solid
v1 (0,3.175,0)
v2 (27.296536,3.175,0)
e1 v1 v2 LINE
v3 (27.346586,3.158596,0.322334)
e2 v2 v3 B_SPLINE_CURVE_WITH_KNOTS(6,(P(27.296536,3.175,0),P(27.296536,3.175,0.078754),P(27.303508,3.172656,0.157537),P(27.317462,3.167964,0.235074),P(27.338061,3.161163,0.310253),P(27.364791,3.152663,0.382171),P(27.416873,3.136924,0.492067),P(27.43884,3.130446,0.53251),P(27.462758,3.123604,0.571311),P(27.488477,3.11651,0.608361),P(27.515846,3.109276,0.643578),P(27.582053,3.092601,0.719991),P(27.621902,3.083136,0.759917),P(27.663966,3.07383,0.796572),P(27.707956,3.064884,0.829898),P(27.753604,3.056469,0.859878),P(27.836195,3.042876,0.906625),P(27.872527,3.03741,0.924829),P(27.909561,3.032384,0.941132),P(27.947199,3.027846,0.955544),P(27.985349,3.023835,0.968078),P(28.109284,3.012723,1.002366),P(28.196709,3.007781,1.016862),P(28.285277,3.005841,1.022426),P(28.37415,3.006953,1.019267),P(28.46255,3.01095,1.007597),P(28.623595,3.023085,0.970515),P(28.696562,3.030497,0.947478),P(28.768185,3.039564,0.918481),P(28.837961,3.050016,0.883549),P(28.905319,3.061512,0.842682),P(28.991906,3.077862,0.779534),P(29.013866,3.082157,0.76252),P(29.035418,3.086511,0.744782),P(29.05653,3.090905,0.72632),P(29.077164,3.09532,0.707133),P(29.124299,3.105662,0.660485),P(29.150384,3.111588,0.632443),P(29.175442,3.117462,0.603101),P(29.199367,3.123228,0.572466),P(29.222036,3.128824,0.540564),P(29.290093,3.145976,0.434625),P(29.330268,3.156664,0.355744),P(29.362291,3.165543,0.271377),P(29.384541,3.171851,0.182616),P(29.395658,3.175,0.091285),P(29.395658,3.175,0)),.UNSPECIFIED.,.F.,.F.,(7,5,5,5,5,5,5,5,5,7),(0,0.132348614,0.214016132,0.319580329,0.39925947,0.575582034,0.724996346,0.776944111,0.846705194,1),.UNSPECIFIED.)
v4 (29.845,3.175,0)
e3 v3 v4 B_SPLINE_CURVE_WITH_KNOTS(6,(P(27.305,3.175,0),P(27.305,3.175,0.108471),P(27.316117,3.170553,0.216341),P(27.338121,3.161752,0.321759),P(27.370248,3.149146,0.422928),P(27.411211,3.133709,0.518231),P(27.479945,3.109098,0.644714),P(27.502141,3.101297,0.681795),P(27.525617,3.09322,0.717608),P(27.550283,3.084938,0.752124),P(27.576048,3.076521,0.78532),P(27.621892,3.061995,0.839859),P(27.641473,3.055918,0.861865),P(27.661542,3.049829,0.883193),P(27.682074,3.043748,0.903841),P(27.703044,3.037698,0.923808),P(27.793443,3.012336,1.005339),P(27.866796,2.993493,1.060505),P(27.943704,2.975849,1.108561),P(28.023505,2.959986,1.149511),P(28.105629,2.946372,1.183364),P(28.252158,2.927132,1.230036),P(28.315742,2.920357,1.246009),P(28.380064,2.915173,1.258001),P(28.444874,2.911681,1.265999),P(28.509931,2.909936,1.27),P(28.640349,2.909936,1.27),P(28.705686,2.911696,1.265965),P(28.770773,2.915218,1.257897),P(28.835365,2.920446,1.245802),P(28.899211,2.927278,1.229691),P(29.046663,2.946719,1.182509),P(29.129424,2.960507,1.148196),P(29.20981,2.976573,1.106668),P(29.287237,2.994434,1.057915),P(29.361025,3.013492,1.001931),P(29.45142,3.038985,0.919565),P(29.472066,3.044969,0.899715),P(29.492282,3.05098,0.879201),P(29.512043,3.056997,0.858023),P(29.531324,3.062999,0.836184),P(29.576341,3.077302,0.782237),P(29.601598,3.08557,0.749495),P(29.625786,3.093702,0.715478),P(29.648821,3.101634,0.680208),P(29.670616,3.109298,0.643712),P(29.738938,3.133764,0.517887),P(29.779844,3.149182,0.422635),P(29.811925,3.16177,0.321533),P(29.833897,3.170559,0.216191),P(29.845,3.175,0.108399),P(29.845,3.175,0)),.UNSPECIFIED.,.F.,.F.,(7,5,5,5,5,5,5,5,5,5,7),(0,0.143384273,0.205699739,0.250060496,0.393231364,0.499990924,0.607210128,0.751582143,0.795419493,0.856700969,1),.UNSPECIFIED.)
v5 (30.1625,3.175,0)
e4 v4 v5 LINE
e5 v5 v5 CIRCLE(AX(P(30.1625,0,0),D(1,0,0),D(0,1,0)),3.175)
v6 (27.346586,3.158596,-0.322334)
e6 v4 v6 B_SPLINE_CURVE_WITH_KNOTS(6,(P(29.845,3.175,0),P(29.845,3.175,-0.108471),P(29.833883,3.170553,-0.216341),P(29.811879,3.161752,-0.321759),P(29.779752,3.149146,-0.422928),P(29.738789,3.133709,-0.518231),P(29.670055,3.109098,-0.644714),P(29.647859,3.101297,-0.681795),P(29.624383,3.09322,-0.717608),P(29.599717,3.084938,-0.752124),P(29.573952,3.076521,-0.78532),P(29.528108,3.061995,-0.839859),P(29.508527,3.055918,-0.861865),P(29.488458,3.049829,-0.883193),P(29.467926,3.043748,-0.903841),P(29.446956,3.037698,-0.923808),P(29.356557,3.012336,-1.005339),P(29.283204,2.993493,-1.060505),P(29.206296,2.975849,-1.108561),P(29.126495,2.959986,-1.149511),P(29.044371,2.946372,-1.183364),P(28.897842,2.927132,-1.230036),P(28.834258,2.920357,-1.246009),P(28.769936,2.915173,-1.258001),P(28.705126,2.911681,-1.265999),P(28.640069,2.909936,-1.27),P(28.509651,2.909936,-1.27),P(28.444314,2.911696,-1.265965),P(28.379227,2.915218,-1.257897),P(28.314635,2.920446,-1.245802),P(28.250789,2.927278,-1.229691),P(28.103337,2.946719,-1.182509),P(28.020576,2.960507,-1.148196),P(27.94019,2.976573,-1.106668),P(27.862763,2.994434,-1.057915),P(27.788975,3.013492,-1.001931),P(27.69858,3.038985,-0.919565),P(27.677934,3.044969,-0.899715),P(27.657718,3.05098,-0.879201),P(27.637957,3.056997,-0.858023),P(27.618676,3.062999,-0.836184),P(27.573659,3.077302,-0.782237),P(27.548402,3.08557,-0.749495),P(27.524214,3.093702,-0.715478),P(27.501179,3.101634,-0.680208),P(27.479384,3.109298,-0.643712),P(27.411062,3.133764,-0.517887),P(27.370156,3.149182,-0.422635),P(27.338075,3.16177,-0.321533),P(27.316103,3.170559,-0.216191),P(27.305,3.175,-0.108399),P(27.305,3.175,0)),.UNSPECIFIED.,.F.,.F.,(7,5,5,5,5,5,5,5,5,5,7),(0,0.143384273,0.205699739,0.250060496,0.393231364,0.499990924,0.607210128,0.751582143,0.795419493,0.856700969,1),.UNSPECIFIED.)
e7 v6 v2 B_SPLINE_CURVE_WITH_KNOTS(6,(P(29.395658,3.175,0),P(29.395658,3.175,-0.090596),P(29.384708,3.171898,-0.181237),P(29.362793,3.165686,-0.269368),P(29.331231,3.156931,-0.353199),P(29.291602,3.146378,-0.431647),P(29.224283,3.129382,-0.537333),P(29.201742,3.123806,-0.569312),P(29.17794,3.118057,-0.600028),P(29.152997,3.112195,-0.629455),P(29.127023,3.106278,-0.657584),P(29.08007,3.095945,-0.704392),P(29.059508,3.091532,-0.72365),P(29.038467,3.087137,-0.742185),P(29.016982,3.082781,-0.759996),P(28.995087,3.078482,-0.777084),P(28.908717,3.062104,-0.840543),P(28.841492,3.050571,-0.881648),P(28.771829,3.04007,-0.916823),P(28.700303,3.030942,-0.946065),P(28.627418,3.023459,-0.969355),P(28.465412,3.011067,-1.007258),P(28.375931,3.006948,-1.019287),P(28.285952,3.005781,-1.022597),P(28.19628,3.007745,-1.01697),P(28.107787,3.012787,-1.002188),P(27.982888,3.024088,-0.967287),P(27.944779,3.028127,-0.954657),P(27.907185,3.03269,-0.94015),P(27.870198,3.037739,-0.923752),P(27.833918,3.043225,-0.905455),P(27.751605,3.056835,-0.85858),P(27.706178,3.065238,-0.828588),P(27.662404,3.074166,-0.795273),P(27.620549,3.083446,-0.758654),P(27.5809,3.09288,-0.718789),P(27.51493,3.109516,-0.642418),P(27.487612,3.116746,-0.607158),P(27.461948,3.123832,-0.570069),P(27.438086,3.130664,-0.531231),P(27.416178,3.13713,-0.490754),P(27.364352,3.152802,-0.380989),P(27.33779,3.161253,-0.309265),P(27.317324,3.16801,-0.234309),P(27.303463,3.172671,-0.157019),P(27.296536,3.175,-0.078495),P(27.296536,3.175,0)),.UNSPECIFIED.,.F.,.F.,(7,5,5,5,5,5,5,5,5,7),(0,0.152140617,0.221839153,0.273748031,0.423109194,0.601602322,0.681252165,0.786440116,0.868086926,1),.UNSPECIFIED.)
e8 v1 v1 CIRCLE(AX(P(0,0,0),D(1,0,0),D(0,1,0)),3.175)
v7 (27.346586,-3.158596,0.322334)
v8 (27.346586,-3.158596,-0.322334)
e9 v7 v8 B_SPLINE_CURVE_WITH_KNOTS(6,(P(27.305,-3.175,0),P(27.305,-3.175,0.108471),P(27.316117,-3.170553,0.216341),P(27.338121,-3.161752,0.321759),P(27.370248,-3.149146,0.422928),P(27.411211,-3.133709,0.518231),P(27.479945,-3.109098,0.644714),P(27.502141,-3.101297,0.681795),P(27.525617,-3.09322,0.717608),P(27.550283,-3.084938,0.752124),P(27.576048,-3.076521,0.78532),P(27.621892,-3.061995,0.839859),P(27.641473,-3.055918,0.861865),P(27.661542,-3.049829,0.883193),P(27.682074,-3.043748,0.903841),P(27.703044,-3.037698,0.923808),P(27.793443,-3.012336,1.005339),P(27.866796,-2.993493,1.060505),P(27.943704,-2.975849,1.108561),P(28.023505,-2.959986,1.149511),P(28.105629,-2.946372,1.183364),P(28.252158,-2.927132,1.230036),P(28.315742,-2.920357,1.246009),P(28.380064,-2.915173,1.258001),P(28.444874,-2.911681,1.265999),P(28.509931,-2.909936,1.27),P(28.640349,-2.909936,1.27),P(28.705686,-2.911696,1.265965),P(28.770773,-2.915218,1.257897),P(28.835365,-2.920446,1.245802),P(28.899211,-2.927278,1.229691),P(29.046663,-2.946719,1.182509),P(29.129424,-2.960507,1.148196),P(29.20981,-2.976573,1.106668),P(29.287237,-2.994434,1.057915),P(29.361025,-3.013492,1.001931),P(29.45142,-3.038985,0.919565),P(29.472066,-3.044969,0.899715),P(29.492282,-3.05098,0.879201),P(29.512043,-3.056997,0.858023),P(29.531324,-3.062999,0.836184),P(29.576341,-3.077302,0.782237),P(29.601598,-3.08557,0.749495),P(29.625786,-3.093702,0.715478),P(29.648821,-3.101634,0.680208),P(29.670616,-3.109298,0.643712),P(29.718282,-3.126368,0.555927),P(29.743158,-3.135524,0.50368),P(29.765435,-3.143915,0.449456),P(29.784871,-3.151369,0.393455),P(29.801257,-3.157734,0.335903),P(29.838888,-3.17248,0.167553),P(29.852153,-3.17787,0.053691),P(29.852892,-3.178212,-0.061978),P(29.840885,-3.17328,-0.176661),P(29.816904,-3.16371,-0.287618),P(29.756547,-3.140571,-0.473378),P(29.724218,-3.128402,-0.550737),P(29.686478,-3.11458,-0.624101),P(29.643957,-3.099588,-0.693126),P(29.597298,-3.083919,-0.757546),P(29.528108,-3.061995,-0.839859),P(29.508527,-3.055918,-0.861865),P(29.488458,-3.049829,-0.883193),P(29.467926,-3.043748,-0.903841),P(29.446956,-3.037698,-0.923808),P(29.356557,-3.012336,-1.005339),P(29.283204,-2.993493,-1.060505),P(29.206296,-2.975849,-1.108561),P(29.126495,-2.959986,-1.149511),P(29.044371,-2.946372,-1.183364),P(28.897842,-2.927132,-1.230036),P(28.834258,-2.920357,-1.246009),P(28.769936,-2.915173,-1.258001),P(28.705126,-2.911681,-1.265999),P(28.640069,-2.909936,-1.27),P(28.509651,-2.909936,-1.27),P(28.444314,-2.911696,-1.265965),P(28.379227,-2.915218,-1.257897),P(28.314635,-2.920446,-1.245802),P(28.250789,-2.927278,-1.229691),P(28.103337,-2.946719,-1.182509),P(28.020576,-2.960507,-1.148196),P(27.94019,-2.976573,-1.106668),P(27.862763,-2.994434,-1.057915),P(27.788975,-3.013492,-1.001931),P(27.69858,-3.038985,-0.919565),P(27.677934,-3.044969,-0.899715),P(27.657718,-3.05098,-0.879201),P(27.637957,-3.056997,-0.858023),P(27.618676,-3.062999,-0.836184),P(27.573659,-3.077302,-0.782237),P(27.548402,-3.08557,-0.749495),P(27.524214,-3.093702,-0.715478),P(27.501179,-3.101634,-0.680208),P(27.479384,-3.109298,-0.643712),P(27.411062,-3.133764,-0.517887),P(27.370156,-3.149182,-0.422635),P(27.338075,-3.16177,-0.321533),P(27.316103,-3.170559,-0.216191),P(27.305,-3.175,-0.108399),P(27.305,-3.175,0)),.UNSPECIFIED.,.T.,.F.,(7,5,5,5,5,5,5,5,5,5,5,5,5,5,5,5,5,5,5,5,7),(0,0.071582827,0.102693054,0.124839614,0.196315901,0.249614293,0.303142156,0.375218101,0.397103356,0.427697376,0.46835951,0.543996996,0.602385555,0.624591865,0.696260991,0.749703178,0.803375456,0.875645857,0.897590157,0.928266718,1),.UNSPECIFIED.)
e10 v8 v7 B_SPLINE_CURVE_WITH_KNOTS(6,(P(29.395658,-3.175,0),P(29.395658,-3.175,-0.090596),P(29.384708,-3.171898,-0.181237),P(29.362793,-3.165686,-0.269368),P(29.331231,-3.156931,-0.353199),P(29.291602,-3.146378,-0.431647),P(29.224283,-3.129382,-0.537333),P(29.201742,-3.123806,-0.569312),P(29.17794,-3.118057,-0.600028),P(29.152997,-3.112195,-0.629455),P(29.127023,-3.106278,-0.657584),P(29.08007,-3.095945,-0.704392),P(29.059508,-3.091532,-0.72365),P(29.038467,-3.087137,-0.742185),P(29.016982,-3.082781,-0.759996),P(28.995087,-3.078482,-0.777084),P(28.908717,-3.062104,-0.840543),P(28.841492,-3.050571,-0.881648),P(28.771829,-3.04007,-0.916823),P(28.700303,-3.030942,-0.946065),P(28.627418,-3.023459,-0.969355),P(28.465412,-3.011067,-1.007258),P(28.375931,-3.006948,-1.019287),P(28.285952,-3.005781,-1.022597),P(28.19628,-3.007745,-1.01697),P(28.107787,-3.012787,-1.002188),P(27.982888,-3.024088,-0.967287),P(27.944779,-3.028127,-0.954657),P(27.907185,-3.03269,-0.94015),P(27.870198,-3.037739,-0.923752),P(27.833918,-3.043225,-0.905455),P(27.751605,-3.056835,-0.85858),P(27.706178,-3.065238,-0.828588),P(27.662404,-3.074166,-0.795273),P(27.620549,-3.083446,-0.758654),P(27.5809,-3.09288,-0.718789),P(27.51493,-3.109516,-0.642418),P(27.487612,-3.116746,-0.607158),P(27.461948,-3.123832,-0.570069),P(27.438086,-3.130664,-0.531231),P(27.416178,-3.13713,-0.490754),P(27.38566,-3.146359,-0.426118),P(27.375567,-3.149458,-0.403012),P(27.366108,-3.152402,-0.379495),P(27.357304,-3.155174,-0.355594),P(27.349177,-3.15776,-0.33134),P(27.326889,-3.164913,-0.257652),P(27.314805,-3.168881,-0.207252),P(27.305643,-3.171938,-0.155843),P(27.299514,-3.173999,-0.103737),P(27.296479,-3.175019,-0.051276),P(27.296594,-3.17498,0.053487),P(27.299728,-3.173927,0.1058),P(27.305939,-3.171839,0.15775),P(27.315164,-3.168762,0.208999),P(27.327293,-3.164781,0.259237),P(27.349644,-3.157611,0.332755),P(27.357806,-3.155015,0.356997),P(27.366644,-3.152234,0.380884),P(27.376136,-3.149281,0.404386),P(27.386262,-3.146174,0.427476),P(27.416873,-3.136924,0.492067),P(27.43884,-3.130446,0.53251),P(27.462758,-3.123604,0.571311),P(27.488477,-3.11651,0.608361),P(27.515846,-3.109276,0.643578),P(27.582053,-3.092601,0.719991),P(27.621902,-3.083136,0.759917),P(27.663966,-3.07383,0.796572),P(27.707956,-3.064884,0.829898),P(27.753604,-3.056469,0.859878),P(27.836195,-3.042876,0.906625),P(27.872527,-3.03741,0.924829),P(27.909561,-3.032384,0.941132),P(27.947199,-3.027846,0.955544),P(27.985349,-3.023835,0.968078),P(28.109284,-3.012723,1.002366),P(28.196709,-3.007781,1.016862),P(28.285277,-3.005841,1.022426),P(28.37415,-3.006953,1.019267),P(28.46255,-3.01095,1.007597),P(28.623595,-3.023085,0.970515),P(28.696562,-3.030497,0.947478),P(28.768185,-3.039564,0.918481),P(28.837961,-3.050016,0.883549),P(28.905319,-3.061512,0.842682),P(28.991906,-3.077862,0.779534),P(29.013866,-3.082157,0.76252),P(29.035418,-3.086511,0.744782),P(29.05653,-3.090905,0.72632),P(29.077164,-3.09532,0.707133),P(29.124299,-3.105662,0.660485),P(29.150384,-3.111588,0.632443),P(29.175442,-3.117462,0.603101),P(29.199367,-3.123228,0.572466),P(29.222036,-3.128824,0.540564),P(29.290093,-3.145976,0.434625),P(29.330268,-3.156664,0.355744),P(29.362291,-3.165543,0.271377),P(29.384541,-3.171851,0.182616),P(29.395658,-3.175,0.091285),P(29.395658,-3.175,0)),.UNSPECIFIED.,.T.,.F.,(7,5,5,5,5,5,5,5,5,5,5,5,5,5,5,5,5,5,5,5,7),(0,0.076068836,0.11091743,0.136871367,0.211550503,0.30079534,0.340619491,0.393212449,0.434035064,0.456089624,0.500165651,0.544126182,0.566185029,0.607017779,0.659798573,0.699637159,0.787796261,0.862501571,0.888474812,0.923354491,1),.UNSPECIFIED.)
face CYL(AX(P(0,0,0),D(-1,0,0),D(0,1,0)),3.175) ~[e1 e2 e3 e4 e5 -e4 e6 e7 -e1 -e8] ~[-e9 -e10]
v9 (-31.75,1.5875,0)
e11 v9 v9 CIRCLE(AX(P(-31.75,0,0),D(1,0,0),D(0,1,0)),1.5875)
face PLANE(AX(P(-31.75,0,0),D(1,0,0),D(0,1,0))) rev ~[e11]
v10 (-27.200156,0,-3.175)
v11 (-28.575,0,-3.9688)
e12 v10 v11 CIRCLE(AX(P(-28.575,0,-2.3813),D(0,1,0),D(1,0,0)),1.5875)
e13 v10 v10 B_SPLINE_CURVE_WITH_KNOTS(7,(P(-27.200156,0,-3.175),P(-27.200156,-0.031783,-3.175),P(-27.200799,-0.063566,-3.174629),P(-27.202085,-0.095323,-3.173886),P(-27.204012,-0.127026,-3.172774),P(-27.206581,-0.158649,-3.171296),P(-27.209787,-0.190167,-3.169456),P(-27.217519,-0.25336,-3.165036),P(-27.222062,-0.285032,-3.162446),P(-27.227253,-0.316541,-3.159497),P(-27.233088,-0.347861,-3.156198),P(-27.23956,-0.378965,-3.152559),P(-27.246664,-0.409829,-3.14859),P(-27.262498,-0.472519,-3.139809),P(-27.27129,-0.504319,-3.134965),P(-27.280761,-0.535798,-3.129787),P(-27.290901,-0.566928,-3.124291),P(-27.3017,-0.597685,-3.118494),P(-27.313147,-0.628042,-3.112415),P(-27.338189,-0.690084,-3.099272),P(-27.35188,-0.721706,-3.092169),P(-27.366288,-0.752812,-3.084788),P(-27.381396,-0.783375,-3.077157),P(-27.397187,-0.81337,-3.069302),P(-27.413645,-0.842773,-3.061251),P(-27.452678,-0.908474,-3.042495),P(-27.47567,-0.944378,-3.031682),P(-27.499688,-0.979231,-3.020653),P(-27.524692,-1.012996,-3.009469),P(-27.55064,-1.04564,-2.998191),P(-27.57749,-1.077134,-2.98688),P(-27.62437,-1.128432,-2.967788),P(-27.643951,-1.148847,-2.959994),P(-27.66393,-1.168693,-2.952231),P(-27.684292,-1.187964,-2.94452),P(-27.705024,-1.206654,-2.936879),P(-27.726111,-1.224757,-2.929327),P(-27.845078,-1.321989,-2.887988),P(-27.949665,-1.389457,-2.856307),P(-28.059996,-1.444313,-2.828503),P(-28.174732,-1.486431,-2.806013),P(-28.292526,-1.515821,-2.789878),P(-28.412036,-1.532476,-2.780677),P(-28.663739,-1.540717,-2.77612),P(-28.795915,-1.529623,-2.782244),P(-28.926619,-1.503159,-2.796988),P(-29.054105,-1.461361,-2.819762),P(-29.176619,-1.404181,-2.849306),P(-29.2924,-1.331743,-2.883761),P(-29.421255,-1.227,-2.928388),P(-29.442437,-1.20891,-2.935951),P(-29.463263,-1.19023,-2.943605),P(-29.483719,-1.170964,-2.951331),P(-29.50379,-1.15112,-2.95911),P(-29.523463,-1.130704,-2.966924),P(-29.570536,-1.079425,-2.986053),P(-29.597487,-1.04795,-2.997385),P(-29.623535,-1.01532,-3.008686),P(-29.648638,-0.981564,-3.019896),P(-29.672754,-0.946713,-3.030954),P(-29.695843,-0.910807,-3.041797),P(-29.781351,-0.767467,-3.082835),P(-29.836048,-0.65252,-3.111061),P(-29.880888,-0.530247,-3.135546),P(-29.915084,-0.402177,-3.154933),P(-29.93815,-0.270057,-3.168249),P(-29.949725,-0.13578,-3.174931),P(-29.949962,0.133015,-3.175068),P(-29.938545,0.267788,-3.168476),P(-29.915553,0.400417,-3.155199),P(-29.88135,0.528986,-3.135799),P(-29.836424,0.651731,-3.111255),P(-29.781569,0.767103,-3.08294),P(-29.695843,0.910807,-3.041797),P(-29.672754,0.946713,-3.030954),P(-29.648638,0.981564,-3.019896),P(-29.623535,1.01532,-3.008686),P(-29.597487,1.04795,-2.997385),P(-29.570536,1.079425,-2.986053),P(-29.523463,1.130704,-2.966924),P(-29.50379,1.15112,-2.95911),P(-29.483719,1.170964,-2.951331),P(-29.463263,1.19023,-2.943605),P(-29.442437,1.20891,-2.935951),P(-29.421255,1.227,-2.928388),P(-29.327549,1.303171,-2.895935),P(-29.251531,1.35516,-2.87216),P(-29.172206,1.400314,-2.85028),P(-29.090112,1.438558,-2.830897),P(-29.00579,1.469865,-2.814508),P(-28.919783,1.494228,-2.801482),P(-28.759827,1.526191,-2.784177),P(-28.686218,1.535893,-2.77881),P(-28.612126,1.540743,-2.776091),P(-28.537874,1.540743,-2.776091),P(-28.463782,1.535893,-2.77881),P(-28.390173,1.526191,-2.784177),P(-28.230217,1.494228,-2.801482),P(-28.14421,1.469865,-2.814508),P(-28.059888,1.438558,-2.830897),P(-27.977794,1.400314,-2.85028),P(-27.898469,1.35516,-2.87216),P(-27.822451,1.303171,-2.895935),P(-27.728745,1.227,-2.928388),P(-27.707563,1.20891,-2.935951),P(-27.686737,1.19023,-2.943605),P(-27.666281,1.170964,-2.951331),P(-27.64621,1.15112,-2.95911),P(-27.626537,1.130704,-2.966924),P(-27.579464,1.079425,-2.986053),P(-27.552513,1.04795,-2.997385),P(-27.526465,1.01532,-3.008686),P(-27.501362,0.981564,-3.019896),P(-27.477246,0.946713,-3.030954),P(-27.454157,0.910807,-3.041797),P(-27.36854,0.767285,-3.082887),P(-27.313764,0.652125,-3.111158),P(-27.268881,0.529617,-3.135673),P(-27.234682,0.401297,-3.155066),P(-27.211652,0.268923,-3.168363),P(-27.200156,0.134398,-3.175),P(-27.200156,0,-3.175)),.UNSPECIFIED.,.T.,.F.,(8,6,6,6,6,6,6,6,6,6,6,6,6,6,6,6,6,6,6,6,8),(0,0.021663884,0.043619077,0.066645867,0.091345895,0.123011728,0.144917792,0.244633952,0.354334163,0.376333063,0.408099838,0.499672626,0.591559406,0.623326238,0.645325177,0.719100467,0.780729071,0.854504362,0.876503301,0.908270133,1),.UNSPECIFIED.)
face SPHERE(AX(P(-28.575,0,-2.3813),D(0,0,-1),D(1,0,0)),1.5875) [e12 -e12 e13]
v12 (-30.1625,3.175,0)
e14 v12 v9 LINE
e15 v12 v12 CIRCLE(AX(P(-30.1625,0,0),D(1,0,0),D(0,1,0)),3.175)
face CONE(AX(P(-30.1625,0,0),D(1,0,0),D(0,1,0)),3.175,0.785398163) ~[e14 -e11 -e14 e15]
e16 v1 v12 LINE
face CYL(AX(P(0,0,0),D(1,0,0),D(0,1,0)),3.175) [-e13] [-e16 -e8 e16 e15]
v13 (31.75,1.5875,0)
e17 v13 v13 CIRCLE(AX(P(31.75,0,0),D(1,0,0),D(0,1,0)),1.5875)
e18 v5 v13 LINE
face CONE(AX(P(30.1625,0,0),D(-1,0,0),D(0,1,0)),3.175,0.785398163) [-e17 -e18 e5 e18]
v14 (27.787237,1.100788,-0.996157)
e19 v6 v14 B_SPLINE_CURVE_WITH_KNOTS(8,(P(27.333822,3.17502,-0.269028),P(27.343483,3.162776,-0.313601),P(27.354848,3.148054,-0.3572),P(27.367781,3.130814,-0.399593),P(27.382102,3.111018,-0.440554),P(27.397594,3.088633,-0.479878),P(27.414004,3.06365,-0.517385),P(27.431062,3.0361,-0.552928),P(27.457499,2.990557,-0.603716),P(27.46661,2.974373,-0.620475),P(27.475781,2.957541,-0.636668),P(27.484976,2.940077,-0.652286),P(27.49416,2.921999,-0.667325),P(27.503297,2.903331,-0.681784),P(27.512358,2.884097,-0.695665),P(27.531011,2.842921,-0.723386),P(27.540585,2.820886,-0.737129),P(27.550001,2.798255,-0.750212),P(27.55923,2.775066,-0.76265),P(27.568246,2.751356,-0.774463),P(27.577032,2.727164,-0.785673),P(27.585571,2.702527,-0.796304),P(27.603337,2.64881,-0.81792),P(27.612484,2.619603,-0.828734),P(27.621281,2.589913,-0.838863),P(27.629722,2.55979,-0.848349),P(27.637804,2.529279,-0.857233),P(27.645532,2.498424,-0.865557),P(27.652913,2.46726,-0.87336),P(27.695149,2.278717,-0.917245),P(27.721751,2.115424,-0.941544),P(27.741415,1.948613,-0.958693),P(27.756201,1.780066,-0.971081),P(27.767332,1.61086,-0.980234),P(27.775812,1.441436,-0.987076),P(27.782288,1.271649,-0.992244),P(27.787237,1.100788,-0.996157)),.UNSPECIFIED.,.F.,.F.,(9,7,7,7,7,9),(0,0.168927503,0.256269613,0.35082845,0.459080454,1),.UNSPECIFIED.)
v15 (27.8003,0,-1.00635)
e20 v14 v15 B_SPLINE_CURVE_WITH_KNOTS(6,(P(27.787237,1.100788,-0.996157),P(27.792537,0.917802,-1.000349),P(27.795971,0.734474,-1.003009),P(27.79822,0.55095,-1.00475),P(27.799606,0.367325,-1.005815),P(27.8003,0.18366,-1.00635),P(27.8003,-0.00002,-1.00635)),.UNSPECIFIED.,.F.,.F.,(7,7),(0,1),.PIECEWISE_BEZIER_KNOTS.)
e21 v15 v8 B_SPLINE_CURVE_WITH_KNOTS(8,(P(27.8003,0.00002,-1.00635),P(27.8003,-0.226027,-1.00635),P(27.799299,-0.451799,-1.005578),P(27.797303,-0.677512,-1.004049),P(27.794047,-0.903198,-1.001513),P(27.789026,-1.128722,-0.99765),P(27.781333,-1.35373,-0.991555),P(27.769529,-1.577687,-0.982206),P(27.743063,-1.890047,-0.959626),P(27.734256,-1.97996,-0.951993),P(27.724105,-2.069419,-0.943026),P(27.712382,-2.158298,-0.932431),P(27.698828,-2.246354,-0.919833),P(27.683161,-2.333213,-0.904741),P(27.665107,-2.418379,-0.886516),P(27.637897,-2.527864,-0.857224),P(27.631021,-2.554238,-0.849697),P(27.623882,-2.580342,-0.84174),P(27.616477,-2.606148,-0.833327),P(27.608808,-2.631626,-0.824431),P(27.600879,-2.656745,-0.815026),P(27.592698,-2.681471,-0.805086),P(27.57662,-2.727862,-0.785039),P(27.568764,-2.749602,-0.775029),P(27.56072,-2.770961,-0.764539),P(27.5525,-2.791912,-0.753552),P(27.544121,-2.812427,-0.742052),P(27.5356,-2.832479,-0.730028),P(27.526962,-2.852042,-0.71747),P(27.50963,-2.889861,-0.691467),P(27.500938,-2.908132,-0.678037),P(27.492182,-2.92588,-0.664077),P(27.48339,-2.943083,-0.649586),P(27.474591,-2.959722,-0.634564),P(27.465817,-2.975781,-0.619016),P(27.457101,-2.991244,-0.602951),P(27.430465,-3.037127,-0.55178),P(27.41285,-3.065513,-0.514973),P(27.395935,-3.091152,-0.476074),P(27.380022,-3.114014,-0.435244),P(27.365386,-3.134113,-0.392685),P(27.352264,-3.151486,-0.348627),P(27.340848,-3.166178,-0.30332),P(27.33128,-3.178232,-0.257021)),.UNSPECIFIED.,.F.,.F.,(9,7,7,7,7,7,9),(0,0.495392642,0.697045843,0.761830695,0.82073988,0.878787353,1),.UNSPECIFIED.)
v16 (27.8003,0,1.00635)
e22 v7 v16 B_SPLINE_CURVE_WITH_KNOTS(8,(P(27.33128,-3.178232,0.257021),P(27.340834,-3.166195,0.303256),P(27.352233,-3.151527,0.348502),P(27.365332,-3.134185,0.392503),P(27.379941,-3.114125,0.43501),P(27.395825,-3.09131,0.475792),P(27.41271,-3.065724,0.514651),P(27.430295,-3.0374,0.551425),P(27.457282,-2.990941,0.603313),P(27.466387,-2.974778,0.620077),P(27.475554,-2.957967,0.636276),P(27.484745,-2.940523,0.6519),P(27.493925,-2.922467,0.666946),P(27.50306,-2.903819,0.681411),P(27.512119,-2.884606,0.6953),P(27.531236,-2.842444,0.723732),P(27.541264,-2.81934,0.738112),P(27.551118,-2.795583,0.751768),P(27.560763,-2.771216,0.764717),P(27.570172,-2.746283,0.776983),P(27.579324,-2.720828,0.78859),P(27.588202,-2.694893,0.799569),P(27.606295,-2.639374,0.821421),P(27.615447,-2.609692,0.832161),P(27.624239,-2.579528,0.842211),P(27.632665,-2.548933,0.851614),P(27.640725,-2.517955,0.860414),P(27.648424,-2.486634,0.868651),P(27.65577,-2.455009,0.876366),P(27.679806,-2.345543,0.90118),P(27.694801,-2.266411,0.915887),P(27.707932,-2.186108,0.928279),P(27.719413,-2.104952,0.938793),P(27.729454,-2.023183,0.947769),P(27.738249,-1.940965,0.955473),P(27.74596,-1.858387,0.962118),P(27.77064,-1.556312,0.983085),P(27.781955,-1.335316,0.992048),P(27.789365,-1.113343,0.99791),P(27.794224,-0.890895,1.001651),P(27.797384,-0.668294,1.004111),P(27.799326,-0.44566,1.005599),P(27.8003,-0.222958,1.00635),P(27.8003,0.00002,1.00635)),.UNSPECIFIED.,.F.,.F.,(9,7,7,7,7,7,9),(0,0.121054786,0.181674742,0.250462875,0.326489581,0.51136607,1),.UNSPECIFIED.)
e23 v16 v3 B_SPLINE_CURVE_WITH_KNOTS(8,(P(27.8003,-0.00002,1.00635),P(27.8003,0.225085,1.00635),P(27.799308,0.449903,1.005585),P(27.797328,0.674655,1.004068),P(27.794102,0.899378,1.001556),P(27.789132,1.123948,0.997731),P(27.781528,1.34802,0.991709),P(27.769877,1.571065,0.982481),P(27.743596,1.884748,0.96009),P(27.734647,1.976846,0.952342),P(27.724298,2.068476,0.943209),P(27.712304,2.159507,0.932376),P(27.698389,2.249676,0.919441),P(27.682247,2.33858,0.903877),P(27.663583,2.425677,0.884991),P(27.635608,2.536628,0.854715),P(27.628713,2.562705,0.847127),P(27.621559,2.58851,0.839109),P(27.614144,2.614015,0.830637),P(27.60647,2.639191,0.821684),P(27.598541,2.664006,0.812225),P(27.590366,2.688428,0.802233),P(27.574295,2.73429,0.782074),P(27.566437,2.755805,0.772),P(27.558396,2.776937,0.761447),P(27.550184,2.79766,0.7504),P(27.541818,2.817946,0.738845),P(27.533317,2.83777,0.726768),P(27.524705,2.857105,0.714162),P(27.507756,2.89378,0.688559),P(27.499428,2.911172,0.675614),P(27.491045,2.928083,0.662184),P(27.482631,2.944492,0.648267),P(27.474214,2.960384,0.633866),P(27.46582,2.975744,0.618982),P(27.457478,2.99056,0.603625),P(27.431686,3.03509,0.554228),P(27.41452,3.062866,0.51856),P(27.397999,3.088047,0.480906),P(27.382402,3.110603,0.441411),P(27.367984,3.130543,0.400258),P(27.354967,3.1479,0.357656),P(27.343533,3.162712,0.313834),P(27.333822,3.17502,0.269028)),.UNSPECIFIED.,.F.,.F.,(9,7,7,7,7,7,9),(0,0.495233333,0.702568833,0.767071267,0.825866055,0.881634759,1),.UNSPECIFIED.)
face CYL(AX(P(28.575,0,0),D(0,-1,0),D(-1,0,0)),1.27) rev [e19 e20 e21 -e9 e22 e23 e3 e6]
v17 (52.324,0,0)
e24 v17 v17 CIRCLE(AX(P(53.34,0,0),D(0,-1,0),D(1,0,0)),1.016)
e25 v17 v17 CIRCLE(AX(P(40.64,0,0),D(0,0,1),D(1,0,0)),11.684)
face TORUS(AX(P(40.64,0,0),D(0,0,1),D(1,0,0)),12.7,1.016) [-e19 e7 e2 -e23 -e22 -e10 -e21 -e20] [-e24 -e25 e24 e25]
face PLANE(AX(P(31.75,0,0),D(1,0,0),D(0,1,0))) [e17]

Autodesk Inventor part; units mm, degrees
ref_plane "YZ Plane" through (0, 0, 0) normal (1, 0, 0) x (0, 1, 0)
ref_plane "XZ Plane" through (0, 0, 0) normal (0, 1, 0) x (-1, 0, 0)
ref_plane "XY Plane" through (0, 0, 0) normal (0, 0, 1) x (1, 0, 0)
sketch "Sketch1" plane through (0, 0, 0) normal (1, 0, 0) x (0, 1, 0)
  circle A0 centre (0, 0) radius 3.175
  dimension "d0" = 6.35
extrude "Extrusion1" add sketch "Sketch1" along normal mid plane 63.5
sketch "Sketch2" plane through (0, 0, 0) normal (0, 1, 0) x (-1, 0, 0)
  circle A0 centre (-28.575, 0) radius 1.27
  line L0 (-31.75, 3.175) -> (-31.75, -3.175) projected
  point P0 (0, 0)
  dimension "d3" = 2.54
  dimension "d4" = 3.175
extrude "Extrusion2" cut sketch "Sketch2" along normal through all both and the other way through all
sketch "Sketch3" plane through (0, 0, 0) normal (0, 0, 1) x (1, 0, 0)
  circle A0 centre (40.64, 0) radius 12.7
  point P0 (0, 0)
  dimension "d7" = 25.4
  dimension "d8" = 40.64
sketch "Sketch4" plane through (0, 0, 0) normal (0, 1, 0) x (-1, 0, 0)
  line L0 (-27.94, 0) -> (-53.34, 0) construction
  circle A0 centre (-53.34, 0) radius 1.016
  point P0 (0, 0)
  dimension "d9" = 2.032
sweep "Sweep1" add profiles "Sketch4" path "Sketch3"
sketch "Sketch5" plane through (0, 0, 0) normal (0, 1, 0) x (-1, 0, 0)
  line L0 (28.575, 0) -> (28.575, -3.9688)
  arc A0 (26.9875, -2.3813) -> (28.575, -3.9688) centre (28.575, -2.3813) ccw
  line L1 (26.9875, -2.3813) -> (26.9875, 0)
  line L2 (26.9875, 0) -> (28.575, 0)
  line L3 (31.75, -3.175) -> (31.75, 3.175) projected
  point P0 (0, 0)
  dimension "d12" = 1.5875
  dimension "d13" = 3.175
  dimension "d14" = 0.7937
revolve "Revolution1" add sketch "Sketch5" angle 360 about axis through (-28.575, 0, 0) along (0, 0, -1)
chamfer "Chamfer1" distance 1.5875 angle 45 2 edges at (-31.75, -3.175, 0) (31.75, -3.175, 0)
properties part number "Release_Pin" material "Aluminum 6061"
